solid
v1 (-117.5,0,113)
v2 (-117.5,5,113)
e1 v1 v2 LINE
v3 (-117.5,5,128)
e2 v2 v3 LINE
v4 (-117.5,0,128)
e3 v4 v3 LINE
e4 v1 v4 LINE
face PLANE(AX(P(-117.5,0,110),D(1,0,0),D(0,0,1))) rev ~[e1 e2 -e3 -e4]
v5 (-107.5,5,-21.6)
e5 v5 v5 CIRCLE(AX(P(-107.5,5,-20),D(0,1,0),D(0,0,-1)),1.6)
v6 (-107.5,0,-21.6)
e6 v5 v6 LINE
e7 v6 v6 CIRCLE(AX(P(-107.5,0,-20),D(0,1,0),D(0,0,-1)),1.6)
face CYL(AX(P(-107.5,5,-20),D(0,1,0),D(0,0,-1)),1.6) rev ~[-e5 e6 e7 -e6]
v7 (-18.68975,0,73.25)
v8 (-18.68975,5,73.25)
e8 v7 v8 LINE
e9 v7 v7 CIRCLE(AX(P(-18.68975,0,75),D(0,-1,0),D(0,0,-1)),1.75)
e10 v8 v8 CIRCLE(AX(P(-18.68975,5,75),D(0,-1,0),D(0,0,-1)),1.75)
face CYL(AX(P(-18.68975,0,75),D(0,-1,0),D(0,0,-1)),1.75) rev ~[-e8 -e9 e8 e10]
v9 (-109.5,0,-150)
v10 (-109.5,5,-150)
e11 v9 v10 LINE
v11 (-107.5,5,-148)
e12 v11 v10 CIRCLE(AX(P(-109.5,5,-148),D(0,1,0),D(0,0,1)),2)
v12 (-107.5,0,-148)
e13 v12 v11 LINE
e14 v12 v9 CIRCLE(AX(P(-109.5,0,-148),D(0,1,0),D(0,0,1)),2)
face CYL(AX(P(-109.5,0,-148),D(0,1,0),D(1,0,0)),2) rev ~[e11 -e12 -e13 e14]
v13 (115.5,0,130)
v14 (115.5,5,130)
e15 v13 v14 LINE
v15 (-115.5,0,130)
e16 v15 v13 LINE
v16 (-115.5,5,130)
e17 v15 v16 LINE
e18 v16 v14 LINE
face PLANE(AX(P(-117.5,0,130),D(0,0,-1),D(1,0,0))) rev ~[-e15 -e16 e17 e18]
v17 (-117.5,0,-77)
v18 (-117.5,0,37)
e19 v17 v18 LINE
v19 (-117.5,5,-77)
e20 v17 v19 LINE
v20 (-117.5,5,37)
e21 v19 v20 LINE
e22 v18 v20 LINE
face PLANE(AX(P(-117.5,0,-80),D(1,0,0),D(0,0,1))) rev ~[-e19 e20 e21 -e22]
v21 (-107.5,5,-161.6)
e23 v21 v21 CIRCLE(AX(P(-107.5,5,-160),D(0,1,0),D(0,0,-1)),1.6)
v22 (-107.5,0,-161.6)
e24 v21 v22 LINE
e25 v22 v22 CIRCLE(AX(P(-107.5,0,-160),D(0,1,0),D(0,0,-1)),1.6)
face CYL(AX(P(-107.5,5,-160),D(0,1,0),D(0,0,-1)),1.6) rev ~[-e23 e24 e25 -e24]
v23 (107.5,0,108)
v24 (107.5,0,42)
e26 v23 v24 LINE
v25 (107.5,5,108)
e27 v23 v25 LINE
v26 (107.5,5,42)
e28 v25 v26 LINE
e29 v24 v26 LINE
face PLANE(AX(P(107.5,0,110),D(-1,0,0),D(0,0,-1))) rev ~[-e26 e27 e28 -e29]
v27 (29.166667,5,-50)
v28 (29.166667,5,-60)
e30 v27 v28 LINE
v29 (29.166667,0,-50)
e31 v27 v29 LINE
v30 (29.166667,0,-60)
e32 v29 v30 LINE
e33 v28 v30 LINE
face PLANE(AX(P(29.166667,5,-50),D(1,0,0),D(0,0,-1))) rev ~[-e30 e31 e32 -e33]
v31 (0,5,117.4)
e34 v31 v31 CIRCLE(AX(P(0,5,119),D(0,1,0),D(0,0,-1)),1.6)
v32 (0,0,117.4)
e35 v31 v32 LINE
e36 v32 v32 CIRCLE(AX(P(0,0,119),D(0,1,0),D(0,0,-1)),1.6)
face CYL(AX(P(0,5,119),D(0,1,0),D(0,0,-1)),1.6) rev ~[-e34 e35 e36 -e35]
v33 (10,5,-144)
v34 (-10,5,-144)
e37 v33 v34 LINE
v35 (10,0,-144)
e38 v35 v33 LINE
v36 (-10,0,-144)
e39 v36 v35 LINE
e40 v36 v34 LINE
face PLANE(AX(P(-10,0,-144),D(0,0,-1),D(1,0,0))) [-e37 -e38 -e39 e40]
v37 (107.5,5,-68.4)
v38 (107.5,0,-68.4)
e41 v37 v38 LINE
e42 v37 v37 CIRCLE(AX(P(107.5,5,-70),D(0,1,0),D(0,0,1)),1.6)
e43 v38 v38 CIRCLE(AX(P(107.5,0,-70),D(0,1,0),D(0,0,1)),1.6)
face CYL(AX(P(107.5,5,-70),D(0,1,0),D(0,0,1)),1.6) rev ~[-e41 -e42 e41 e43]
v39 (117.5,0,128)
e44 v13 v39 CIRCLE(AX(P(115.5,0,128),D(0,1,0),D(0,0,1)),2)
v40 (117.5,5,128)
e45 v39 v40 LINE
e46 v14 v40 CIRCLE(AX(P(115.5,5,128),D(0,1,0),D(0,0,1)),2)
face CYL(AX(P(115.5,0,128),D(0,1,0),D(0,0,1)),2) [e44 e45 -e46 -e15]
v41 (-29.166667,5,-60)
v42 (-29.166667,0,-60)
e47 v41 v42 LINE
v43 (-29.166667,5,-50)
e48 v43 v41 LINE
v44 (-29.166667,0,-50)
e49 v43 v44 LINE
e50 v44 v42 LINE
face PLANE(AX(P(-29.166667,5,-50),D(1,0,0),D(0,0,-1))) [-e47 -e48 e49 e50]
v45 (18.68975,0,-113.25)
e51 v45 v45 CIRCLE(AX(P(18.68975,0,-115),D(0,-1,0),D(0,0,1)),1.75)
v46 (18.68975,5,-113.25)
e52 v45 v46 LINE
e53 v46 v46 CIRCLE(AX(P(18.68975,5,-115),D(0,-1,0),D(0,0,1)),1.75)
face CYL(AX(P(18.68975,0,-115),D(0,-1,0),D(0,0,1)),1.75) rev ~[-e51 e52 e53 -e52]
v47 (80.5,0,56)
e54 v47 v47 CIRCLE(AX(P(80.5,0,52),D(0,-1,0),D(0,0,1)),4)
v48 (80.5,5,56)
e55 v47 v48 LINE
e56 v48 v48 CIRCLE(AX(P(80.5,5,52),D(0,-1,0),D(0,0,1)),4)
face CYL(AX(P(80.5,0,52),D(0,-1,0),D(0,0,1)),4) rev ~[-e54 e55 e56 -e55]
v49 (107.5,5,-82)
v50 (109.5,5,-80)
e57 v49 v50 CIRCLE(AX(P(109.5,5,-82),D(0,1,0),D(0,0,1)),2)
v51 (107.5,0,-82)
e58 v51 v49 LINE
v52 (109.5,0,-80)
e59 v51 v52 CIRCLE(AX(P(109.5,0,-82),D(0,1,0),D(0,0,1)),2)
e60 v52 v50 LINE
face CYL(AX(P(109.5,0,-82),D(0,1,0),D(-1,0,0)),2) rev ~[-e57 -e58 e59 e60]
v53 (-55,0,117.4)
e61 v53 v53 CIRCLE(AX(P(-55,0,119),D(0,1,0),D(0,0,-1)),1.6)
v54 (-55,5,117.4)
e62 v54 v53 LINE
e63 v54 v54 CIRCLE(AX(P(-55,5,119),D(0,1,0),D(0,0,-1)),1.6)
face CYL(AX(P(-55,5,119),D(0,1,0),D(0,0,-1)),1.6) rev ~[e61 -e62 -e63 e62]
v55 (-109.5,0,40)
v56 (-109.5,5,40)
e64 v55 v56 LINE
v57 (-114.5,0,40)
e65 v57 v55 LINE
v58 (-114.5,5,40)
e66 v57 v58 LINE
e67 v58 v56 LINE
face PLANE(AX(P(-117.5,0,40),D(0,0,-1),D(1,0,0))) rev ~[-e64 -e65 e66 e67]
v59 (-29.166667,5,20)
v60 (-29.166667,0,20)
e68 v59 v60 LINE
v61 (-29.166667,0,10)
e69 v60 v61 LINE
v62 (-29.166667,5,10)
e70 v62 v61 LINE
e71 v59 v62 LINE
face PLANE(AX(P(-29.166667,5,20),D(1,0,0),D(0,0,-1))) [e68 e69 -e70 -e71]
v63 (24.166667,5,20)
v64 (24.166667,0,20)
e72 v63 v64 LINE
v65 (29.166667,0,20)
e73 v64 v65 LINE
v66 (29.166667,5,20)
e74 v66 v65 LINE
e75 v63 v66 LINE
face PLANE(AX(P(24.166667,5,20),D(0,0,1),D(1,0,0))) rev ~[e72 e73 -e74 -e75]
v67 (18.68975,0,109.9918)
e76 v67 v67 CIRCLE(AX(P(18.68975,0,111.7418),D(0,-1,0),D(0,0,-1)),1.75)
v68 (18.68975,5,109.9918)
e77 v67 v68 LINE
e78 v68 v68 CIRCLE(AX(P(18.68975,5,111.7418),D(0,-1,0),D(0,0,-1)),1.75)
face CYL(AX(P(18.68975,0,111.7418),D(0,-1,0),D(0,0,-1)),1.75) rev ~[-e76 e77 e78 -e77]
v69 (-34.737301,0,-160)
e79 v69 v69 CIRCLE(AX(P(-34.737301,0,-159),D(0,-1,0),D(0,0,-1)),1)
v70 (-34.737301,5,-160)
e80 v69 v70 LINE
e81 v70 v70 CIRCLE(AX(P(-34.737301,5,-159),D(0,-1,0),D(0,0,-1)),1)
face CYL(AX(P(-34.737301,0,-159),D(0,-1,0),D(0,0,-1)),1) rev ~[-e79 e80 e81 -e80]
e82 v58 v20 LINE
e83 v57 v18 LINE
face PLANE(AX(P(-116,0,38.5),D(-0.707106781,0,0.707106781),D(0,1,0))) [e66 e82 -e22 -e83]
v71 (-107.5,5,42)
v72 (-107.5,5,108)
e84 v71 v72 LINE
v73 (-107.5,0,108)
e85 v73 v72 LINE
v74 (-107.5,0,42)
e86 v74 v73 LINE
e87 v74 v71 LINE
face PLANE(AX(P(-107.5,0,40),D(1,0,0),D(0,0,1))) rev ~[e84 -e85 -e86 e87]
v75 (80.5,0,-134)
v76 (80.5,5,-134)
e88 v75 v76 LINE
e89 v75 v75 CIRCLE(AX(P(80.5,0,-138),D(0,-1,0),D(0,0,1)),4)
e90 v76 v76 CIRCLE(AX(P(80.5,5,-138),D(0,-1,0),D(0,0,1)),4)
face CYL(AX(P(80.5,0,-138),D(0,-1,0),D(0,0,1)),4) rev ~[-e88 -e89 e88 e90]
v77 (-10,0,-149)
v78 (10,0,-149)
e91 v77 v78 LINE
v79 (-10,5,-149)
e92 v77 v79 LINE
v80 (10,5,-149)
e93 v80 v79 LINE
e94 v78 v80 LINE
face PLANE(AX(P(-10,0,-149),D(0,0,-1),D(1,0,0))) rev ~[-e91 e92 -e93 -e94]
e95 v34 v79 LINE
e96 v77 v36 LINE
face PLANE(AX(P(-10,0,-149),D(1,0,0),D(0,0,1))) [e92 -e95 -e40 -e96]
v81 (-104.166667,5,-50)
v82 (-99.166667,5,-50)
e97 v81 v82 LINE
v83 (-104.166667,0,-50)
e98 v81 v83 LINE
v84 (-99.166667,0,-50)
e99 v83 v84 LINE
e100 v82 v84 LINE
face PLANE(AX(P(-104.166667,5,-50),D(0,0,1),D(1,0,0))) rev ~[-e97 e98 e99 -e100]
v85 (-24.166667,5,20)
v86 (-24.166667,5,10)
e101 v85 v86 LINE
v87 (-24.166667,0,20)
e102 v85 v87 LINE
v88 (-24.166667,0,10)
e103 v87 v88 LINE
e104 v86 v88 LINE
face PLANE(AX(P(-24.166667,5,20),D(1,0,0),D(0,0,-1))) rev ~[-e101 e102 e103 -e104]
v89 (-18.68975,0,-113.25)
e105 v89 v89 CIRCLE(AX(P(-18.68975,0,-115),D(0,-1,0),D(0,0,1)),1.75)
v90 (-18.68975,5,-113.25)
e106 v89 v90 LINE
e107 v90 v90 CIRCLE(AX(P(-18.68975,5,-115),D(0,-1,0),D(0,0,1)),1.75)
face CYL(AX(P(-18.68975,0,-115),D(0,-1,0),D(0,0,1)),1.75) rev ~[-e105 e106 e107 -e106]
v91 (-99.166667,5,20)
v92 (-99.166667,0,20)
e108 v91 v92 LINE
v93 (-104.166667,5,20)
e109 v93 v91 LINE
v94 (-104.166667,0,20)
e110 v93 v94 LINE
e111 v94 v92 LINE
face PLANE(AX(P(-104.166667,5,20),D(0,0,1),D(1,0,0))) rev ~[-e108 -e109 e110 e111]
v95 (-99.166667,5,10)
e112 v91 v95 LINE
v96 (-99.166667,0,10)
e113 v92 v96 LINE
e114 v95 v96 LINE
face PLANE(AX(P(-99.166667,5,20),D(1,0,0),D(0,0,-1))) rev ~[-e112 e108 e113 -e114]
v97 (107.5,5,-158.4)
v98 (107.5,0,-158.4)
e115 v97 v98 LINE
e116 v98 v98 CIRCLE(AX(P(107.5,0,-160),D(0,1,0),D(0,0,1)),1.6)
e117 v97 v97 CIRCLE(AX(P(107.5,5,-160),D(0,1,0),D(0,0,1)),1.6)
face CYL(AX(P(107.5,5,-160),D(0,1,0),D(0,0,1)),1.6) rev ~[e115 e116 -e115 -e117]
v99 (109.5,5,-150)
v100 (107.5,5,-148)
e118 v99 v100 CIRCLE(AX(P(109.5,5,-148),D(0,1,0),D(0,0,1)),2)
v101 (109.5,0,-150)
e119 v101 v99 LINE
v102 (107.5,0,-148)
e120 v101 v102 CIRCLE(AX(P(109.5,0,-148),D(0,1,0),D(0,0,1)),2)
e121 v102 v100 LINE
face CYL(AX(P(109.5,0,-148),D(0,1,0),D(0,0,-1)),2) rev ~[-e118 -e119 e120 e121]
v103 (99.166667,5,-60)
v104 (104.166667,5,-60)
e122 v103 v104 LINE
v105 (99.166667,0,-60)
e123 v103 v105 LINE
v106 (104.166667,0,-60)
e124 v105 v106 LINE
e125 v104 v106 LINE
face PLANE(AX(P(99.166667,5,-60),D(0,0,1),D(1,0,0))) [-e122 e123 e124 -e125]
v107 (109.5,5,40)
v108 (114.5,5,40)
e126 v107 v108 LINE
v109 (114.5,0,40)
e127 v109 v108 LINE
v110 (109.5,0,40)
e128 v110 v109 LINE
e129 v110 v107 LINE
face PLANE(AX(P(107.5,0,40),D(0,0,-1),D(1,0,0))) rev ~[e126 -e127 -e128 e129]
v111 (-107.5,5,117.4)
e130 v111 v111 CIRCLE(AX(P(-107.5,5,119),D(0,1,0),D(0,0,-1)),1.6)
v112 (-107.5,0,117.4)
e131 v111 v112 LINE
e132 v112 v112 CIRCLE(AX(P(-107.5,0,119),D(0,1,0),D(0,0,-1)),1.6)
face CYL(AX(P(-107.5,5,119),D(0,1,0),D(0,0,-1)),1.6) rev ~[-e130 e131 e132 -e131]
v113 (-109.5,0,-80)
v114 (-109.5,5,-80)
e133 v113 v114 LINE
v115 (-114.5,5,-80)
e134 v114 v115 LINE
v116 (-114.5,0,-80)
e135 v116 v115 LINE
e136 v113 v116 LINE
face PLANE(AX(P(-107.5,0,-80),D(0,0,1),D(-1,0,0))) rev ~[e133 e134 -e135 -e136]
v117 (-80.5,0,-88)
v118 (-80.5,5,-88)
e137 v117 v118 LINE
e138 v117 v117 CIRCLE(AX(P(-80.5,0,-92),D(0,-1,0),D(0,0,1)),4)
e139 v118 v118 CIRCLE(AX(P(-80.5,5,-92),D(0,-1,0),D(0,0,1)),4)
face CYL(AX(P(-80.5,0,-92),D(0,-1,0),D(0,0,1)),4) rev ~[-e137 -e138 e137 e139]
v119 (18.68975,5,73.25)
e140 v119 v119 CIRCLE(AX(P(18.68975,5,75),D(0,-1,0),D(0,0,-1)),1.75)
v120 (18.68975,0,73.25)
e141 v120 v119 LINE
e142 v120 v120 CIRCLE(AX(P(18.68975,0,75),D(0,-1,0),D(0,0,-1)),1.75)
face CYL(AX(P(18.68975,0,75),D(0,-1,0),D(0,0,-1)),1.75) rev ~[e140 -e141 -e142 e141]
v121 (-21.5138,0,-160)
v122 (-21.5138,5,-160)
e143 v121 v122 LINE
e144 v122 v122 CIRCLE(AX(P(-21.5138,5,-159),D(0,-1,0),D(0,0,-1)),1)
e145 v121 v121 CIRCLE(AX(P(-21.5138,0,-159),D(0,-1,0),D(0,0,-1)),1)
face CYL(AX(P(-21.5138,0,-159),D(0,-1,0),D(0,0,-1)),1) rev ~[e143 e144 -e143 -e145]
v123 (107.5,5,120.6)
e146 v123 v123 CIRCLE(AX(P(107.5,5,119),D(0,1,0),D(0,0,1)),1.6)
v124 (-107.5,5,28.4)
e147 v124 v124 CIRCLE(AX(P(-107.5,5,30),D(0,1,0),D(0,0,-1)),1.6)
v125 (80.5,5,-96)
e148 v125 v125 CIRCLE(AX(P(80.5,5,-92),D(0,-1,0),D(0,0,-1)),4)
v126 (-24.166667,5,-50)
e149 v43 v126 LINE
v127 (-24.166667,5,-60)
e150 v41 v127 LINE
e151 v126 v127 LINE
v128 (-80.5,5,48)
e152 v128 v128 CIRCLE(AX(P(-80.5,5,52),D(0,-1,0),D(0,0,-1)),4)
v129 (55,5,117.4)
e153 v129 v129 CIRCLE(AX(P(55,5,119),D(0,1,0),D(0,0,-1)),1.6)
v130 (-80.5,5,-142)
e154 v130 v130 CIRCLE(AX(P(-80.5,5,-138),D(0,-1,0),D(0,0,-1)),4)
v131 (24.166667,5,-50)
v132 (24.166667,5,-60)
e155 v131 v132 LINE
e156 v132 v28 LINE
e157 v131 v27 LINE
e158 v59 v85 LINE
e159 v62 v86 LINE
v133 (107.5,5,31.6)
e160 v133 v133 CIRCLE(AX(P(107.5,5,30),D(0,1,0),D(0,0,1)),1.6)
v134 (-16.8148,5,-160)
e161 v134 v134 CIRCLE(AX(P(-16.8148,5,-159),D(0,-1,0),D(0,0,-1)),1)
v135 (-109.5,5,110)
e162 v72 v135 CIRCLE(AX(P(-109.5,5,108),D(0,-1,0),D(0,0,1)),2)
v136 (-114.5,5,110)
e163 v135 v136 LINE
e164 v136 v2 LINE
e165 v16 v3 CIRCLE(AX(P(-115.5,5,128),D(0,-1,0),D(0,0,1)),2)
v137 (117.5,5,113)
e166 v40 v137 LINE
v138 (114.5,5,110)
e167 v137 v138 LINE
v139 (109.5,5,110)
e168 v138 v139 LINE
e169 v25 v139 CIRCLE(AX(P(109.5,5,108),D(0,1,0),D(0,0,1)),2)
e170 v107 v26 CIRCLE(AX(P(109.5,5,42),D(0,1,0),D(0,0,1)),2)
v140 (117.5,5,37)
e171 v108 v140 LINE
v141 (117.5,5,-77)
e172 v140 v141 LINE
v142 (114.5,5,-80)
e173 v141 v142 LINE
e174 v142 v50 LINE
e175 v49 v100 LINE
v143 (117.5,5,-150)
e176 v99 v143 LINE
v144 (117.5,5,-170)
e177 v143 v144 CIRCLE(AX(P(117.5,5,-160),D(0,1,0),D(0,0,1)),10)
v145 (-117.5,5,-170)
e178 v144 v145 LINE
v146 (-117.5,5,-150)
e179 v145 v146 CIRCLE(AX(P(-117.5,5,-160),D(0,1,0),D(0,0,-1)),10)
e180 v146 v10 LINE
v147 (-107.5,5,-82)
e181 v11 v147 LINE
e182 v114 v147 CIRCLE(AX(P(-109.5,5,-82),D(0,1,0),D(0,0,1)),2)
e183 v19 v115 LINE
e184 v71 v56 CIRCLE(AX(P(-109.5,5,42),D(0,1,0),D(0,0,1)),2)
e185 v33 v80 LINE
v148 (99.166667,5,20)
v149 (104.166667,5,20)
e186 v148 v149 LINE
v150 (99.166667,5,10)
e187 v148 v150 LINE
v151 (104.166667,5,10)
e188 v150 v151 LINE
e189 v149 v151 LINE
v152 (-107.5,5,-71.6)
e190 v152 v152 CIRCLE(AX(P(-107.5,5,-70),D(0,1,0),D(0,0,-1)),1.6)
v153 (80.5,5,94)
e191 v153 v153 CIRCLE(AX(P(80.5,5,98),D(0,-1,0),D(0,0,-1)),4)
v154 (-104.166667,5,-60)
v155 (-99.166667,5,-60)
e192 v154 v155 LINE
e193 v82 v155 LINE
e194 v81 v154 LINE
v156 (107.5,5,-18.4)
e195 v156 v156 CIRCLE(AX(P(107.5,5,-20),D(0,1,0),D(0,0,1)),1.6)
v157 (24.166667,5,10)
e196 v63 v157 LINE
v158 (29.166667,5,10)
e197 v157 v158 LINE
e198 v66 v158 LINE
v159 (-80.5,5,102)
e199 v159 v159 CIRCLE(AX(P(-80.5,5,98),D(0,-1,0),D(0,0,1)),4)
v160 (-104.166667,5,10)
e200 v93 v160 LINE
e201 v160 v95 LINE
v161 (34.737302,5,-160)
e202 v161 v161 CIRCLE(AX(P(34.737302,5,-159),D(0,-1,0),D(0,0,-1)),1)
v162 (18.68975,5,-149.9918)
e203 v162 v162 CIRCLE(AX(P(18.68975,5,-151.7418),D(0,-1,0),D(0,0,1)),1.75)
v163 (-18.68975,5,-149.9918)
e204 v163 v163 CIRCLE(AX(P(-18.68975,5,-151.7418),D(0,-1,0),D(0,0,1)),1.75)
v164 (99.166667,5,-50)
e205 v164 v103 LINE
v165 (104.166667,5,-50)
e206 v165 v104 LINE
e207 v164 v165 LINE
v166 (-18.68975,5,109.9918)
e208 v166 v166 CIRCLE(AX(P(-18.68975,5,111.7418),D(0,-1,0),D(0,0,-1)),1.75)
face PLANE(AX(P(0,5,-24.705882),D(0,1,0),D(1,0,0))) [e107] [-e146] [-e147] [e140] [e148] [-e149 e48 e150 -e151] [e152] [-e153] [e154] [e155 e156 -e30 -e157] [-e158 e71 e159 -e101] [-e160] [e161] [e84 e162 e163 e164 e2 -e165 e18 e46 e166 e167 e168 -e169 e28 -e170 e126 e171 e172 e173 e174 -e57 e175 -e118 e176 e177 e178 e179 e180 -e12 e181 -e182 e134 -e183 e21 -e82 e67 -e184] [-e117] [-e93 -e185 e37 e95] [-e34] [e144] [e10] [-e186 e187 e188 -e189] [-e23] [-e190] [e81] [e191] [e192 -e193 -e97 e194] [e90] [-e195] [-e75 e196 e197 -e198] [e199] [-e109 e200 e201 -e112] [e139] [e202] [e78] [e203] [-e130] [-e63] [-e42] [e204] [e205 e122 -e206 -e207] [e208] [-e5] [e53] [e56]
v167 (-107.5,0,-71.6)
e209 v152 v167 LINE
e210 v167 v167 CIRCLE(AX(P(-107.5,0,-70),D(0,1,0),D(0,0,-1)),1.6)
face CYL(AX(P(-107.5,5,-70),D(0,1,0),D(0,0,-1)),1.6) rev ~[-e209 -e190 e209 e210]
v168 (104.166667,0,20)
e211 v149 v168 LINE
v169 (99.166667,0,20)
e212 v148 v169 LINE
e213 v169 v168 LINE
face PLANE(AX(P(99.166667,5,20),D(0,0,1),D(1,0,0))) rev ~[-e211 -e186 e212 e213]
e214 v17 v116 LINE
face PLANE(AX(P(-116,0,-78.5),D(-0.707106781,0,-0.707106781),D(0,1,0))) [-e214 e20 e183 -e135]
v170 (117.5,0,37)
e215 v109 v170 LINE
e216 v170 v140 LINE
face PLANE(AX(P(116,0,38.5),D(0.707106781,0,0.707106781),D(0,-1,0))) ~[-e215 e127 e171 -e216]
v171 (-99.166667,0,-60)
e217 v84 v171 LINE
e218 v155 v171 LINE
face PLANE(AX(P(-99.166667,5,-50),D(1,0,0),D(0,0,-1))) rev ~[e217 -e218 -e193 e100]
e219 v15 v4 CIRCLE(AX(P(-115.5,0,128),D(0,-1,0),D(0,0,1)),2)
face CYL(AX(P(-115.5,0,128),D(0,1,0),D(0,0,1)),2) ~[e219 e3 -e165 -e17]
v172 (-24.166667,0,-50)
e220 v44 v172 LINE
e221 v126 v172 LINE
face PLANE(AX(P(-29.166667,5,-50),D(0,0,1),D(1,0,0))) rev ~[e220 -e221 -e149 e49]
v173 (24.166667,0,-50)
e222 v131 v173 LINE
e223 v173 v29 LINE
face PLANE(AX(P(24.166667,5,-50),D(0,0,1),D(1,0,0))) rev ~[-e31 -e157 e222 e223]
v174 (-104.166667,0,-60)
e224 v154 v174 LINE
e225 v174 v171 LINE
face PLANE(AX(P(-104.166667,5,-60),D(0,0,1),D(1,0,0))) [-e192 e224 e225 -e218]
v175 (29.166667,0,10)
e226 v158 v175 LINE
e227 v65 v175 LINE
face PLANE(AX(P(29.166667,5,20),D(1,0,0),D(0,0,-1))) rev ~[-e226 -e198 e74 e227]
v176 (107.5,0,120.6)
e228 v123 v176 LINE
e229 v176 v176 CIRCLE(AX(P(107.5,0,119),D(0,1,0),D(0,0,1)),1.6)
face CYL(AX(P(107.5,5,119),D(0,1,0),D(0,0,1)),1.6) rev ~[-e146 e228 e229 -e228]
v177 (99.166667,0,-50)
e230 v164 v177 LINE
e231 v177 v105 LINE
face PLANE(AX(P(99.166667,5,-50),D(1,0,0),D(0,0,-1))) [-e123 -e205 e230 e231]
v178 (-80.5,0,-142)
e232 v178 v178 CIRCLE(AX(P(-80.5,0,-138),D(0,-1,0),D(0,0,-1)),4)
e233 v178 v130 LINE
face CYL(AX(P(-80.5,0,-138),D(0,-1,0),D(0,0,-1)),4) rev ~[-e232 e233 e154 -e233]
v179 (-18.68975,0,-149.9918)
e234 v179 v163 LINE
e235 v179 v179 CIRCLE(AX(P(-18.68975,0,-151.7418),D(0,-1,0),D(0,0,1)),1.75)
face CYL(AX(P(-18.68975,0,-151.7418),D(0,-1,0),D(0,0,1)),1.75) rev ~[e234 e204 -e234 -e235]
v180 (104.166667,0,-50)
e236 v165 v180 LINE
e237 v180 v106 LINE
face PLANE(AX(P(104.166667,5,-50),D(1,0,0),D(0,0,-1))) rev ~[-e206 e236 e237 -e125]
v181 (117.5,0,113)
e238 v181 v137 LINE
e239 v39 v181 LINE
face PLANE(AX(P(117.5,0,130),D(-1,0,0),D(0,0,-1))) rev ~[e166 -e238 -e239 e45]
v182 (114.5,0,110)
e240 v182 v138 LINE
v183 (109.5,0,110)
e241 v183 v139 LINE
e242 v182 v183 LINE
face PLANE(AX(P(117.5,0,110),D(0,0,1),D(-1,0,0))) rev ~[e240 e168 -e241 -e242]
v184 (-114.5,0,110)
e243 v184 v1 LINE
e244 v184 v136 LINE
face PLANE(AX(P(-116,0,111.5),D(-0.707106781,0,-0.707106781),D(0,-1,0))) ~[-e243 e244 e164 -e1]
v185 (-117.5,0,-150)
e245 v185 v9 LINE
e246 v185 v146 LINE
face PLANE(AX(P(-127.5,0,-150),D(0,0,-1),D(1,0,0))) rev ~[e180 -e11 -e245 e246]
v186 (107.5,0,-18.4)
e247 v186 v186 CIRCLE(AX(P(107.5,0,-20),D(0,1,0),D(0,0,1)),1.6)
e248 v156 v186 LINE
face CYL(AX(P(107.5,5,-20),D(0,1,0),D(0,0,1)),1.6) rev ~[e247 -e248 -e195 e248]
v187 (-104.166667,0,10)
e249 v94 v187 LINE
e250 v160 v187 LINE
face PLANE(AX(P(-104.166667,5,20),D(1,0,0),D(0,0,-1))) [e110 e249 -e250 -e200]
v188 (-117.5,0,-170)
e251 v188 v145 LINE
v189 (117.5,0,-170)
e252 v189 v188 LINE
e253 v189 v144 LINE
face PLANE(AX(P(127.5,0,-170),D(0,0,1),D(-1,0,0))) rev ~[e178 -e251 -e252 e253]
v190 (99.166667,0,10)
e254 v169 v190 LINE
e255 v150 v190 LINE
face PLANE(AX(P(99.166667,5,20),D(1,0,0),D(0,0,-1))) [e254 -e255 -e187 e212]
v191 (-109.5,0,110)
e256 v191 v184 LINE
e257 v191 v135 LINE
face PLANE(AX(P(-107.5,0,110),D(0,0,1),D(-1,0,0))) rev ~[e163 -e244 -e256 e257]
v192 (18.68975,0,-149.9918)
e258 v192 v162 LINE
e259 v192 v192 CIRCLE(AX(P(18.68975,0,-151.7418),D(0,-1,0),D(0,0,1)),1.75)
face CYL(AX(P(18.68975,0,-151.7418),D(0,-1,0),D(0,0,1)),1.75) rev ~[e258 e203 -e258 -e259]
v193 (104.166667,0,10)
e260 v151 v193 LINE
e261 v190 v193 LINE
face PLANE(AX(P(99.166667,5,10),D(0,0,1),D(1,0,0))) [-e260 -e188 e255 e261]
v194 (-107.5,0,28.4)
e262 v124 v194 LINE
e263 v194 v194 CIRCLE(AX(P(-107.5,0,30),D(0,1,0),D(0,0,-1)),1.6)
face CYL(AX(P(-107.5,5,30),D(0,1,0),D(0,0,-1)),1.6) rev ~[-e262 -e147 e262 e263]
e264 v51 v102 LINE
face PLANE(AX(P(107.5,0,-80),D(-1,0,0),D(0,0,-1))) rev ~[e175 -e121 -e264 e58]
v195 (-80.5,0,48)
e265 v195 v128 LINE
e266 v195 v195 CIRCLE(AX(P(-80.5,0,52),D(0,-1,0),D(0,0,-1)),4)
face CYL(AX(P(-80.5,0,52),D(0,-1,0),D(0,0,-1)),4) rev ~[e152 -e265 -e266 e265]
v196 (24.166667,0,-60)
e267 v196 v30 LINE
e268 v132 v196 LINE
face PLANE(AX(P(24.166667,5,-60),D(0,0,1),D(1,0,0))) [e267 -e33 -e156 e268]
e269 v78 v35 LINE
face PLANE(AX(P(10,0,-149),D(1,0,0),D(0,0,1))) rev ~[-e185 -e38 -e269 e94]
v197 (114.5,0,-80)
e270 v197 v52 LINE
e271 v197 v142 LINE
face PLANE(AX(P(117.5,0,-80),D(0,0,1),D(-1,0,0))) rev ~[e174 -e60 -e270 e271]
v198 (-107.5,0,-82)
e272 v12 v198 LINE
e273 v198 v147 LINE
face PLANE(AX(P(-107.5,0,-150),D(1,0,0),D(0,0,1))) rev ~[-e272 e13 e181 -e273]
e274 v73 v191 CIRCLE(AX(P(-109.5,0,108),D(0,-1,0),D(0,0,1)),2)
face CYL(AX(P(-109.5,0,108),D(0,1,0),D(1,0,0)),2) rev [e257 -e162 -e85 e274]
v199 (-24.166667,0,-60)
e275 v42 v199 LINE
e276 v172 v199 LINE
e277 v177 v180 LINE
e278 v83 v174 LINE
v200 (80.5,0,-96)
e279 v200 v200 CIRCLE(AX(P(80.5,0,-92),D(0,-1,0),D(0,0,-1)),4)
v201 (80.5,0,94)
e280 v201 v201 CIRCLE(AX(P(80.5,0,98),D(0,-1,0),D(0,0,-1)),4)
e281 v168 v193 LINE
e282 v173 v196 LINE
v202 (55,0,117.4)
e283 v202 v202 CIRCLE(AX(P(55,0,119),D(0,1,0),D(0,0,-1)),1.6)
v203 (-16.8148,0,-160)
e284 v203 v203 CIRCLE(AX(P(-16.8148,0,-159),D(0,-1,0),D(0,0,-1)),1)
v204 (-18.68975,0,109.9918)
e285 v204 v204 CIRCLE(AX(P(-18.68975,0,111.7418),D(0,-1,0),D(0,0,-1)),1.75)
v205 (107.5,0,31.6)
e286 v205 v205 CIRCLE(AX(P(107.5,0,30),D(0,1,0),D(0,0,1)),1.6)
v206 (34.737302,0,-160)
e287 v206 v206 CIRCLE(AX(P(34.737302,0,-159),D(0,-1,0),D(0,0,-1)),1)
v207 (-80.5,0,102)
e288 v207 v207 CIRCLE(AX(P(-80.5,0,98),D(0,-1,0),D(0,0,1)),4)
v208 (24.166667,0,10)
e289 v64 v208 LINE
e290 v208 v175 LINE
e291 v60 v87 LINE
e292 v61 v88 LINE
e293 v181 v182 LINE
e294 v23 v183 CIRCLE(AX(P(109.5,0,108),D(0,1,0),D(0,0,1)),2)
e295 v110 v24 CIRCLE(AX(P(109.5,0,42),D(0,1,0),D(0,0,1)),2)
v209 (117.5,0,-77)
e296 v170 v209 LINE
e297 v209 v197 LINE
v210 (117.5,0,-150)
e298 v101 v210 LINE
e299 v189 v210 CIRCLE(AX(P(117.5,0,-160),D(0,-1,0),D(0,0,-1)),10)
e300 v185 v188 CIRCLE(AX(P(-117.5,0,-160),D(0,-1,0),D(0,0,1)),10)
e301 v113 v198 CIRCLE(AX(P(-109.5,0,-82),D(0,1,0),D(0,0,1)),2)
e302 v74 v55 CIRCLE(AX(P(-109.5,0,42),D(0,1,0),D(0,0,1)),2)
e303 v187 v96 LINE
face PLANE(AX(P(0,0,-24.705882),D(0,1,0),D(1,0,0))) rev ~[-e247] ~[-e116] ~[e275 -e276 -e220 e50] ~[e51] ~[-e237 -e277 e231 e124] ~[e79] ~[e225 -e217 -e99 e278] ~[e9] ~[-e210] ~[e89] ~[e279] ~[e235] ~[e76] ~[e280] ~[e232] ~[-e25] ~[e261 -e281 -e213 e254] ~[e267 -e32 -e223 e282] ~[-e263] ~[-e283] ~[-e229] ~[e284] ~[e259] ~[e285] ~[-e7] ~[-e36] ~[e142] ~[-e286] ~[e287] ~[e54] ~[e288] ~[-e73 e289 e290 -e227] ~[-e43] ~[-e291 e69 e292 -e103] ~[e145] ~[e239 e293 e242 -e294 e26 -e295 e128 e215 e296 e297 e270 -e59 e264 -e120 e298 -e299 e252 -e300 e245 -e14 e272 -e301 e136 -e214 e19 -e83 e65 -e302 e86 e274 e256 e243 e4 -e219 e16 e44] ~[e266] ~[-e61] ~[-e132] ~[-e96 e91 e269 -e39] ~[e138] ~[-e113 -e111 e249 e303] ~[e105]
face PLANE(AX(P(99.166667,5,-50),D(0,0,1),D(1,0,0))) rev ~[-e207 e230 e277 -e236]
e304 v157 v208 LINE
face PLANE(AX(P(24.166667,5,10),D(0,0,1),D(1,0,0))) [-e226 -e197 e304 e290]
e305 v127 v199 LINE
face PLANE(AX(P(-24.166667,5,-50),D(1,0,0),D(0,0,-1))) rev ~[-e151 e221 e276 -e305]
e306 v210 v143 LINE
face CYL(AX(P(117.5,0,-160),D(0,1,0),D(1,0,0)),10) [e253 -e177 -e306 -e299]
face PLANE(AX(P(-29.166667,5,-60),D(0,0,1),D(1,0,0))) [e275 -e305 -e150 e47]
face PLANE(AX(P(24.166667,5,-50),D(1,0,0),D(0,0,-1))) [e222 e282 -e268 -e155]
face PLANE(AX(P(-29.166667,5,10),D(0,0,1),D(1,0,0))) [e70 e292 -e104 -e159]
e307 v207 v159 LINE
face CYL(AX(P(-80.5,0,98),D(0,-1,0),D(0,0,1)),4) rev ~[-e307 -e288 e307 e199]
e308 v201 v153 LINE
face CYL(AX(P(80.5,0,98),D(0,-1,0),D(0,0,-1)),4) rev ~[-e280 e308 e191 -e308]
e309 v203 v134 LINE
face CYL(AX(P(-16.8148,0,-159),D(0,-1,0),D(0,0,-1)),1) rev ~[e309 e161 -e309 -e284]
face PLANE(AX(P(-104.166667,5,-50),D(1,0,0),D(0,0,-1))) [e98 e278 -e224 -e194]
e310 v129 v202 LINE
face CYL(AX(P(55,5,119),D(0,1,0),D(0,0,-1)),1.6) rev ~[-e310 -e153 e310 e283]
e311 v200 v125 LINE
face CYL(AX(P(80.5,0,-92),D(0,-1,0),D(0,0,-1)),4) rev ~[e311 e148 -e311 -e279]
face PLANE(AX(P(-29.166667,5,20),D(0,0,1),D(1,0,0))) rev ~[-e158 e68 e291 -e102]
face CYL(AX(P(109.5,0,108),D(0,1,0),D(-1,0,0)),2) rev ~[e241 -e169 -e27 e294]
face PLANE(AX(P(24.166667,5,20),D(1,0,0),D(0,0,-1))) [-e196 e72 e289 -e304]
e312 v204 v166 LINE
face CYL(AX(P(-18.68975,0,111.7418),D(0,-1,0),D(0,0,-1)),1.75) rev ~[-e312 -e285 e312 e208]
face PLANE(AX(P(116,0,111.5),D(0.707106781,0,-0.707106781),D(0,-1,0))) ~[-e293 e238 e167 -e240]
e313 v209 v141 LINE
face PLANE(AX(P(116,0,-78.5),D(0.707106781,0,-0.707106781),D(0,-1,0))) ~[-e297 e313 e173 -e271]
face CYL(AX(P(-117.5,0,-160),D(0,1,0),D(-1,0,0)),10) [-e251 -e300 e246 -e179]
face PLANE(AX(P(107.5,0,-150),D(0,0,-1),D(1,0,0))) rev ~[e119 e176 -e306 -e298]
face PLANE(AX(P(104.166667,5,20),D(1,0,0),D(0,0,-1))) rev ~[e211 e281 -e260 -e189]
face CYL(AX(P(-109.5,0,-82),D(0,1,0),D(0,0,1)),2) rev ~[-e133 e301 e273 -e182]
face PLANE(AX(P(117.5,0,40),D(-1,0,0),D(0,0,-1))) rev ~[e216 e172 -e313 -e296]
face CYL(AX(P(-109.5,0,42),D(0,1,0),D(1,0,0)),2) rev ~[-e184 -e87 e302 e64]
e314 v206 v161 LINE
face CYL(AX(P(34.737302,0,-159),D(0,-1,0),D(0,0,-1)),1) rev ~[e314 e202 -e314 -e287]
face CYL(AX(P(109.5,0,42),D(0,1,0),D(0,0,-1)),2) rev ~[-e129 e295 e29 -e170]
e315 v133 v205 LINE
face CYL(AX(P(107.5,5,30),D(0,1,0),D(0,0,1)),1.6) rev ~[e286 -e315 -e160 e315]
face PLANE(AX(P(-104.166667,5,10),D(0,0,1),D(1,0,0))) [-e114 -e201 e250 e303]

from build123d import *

# Parameters (mm, degrees)
BOSS_EXTRUDE1_DEPTH         = 5
FILLET3_RADIUS              = 10
FILLET3_LENGTH              = 5
FILLET4_RADIUS              = 10
FILLET4_LENGTH              = 5
FILLET2_R                   = 2
SKETCH2_R                   = 1.6
LAYER_FIX_HOLE_DEPTH        = 213.55881539
CHAMFER1_SIZE               = 3
MOTOR_FIX_HOLE_REACH        = 214.559
SKETCH9_R                   = 4
MOTOR_DRIVER_FIX_HOLE_REACH = 214.559
SKETCH10_R                  = 1.75
SKETCH11_R                  = 1
SKETCH11_W                  = 20
SKETCH11_H                  = 5
QTR8A_FIX_HOLE_DEPTH        = 10
SKETCH_12_W                 = 5
SKETCH_12_H                 = 10
BATTERY_FIXED_HOLE_DEPTH    = 213.55881539


with BuildPart() as part:
    # Sketch1 → Boss-Extrude1 (new body)
    with BuildSketch(Plane(origin=(0, 0, 0), x_dir=(1, 0, 0), z_dir=(0, 1, 0))):
        Polygon((-117.5, -130), (117.5, -130), (117.5, -110), (107.5, -110), (107.5, -40), (117.5, -40), (117.5, 80), (107.5, 80), (107.5, 150), (127.5, 150), (127.5, 170), (-127.5, 170), (-127.5, 150), (-107.5, 150), (-107.5, 80), (-117.5, 80), (-117.5, -40), (-107.5, -40), (-107.5, -110), (-117.5, -110), align=None)
    extrude(amount=BOSS_EXTRUDE1_DEPTH)

    # Fillet3: full round fillet: the end face becomes a half cylinder, R = half its width
    fillet3_face = Plane((127.5, 2.5, -160), x_dir=(0, 1, 0), z_dir=(1, 0, 0))  # on the end face: x along it, z out of the body
    fillet3_slab = fillet3_face.offset(-FILLET3_RADIUS / 2) * Box(FILLET3_LENGTH, 2 * FILLET3_RADIUS, FILLET3_RADIUS, mode=Mode.PRIVATE)  # the body's end, R deep
    fillet3_round = Plane((117.5, 2.5, -160), x_dir=(1, 0, 0), z_dir=(0, 1, 0)) * Cylinder(FILLET3_RADIUS, FILLET3_LENGTH, mode=Mode.PRIVATE)  # its axis R under the face
    add(fillet3_slab - fillet3_round, mode=Mode.SUBTRACT)

    # Fillet4: full round fillet: the end face becomes a half cylinder, R = half its width
    fillet4_face = Plane((-127.5, 2.5, -160), x_dir=(0, 1, 0), z_dir=(-1, 0, 0))  # on the end face: x along it, z out of the body
    fillet4_slab = fillet4_face.offset(-FILLET4_RADIUS / 2) * Box(FILLET4_LENGTH, 2 * FILLET4_RADIUS, FILLET4_RADIUS, mode=Mode.PRIVATE)  # the body's end, R deep
    fillet4_round = Plane((-117.5, 2.5, -160), x_dir=(-1, 0, 0), z_dir=(0, 1, 0)) * Cylinder(FILLET4_RADIUS, FILLET4_LENGTH, mode=Mode.PRIVATE)  # its axis R under the face
    add(fillet4_slab - fillet4_round, mode=Mode.SUBTRACT)

    # Fillet2
    fillet2_edges = [part.edges().sort_by_distance(p)[0] for p in [
        (117.5, 2.5, 130),
        (-117.5, 2.5, 130),
        (-107.5, 2.5, 110),
        (-107.5, 2.5, 40),
        (-107.5, 2.5, -80),
        (-107.5, 2.5, -150),
        (107.5, 2.5, -150),
        (107.5, 2.5, -80),
        (107.5, 2.5, 40),
        (107.5, 2.5, 110),
    ]]
    fillet(fillet2_edges, radius=FILLET2_R)

    # Sketch2 → layer fix hole (cut, through all)
    with BuildSketch(Plane(origin=(0, 5, 0), x_dir=(1, 0, 0), z_dir=(0, 1, 0))):
        with Locations(Location((107.5, 160, 0), (0, 0, 270))):
            Circle(SKETCH2_R)
        with Locations(Location((107.5, 20, 0), (0, 0, 270))):
            Circle(SKETCH2_R)
        with Locations(Location((107.5, -119, 0), (0, 0, 270))):
            Circle(SKETCH2_R)
        with Locations(Location((0, -119, 0), (0, 0, 90))):
            Circle(SKETCH2_R)
        with Locations(Location((-107.5, -119, 0), (0, 0, 90))):
            Circle(SKETCH2_R)
        with Locations(Location((-107.5, 20, 0), (0, 0, 90))):
            Circle(SKETCH2_R)
        with Locations(Location((-107.5, 160, 0), (0, 0, 90))):
            Circle(SKETCH2_R)
        with Locations(Location((55, -119, 0), (0, 0, 90))):
            Circle(SKETCH2_R)
        with Locations(Location((-55, -119, 0), (0, 0, 90))):
            Circle(SKETCH2_R)
        with Locations(Location((-107.5, 70, 0), (0, 0, 90))):
            Circle(SKETCH2_R)
        with Locations(Location((107.5, 70, 0), (0, 0, 270))):
            Circle(SKETCH2_R)
        with Locations(Location((-107.5, -30, 0), (0, 0, 90))):
            Circle(SKETCH2_R)
        with Locations(Location((107.5, -30, 0), (0, 0, 270))):
            Circle(SKETCH2_R)
    extrude(amount=-LAYER_FIX_HOLE_DEPTH, mode=Mode.SUBTRACT)

    # Chamfer1
    chamfer1_edges = [part.edges().sort_by_distance(p)[0] for p in [
        (-117.5, 2.5, 110),
        (-117.5, 2.5, 40),
        (-117.5, 2.5, -80),
        (117.5, 2.5, -80),
        (117.5, 2.5, 40),
        (117.5, 2.5, 110),
    ]]
    chamfer(chamfer1_edges, length=CHAMFER1_SIZE)

    # Sketch9 → Motor fix hole (cut, up to next)
    with BuildSketch(Plane.XZ, mode=Mode.PRIVATE) as motor_fix_hole_sk1:
        with Locations(Location((-80.5, -138, 0), (0, 0, 270))):
            Circle(SKETCH9_R)
    motor_fix_hole_tool1 = extrude(motor_fix_hole_sk1.sketch, amount=-MOTOR_FIX_HOLE_REACH, mode=Mode.PRIVATE) & part.part
    # Sketch9 → Motor fix hole (cut, up to next)
    with BuildSketch(Plane.XZ, mode=Mode.PRIVATE) as motor_fix_hole_sk2:
        with Locations(Location((-80.5, -92, 0), (0, 0, 90))):
            Circle(SKETCH9_R)
    motor_fix_hole_tool2 = extrude(motor_fix_hole_sk2.sketch, amount=-MOTOR_FIX_HOLE_REACH, mode=Mode.PRIVATE) & part.part
    # Sketch9 → Motor fix hole (cut, up to next)
    with BuildSketch(Plane.XZ, mode=Mode.PRIVATE) as motor_fix_hole_sk3:
        with Locations(Location((80.5, -92, 0), (0, 0, 270))):
            Circle(SKETCH9_R)
    motor_fix_hole_tool3 = extrude(motor_fix_hole_sk3.sketch, amount=-MOTOR_FIX_HOLE_REACH, mode=Mode.PRIVATE) & part.part
    # Sketch9 → Motor fix hole (cut, up to next)
    with BuildSketch(Plane.XZ, mode=Mode.PRIVATE) as motor_fix_hole_sk4:
        with Locations(Location((80.5, -138, 0), (0, 0, 90))):
            Circle(SKETCH9_R)
    motor_fix_hole_tool4 = extrude(motor_fix_hole_sk4.sketch, amount=-MOTOR_FIX_HOLE_REACH, mode=Mode.PRIVATE) & part.part
    # Sketch9 → Motor fix hole (cut, up to next)
    with BuildSketch(Plane.XZ, mode=Mode.PRIVATE) as motor_fix_hole_sk5:
        with Locations(Location((80.5, 98, 0), (0, 0, 270))):
            Circle(SKETCH9_R)
    motor_fix_hole_tool5 = extrude(motor_fix_hole_sk5.sketch, amount=-MOTOR_FIX_HOLE_REACH, mode=Mode.PRIVATE) & part.part
    # Sketch9 → Motor fix hole (cut, up to next)
    with BuildSketch(Plane.XZ, mode=Mode.PRIVATE) as motor_fix_hole_sk6:
        with Locations(Location((80.5, 52, 0), (0, 0, 90))):
            Circle(SKETCH9_R)
    motor_fix_hole_tool6 = extrude(motor_fix_hole_sk6.sketch, amount=-MOTOR_FIX_HOLE_REACH, mode=Mode.PRIVATE) & part.part
    # Sketch9 → Motor fix hole (cut, up to next)
    with BuildSketch(Plane.XZ, mode=Mode.PRIVATE) as motor_fix_hole_sk7:
        with Locations(Location((-80.5, 98, 0), (0, 0, 90))):
            Circle(SKETCH9_R)
    motor_fix_hole_tool7 = extrude(motor_fix_hole_sk7.sketch, amount=-MOTOR_FIX_HOLE_REACH, mode=Mode.PRIVATE) & part.part
    # Sketch9 → Motor fix hole (cut, up to next)
    with BuildSketch(Plane.XZ, mode=Mode.PRIVATE) as motor_fix_hole_sk8:
        with Locations(Location((-80.5, 52, 0), (0, 0, 270))):
            Circle(SKETCH9_R)
    motor_fix_hole_tool8 = extrude(motor_fix_hole_sk8.sketch, amount=-MOTOR_FIX_HOLE_REACH, mode=Mode.PRIVATE) & part.part
    add(motor_fix_hole_tool1.solids().sort_by_distance((-80.5, 0, -138))[0], mode=Mode.SUBTRACT)
    add(motor_fix_hole_tool2.solids().sort_by_distance((-80.5, 0, -92))[0], mode=Mode.SUBTRACT)
    add(motor_fix_hole_tool3.solids().sort_by_distance((80.5, 0, -92))[0], mode=Mode.SUBTRACT)
    add(motor_fix_hole_tool4.solids().sort_by_distance((80.5, 0, -138))[0], mode=Mode.SUBTRACT)
    add(motor_fix_hole_tool5.solids().sort_by_distance((80.5, 0, 98))[0], mode=Mode.SUBTRACT)
    add(motor_fix_hole_tool6.solids().sort_by_distance((80.5, 0, 52))[0], mode=Mode.SUBTRACT)
    add(motor_fix_hole_tool7.solids().sort_by_distance((-80.5, 0, 98))[0], mode=Mode.SUBTRACT)
    add(motor_fix_hole_tool8.solids().sort_by_distance((-80.5, 0, 52))[0], mode=Mode.SUBTRACT)

    # Sketch10 → Motor driver fix hole (cut, up to next)
    with BuildSketch(Plane.XZ, mode=Mode.PRIVATE) as motor_driver_fix_hole_sk1:
        with Locations(Location((18.68975044, 75, 0), (0, 0, 270))):
            Circle(SKETCH10_R)
    motor_driver_fix_hole_tool1 = extrude(motor_driver_fix_hole_sk1.sketch, amount=-MOTOR_DRIVER_FIX_HOLE_REACH, mode=Mode.PRIVATE) & part.part
    # Sketch10 → Motor driver fix hole (cut, up to next)
    with BuildSketch(Plane.XZ, mode=Mode.PRIVATE) as motor_driver_fix_hole_sk2:
        with Locations(Location((-18.68975044, 75, 0), (0, 0, 270))):
            Circle(SKETCH10_R)
    motor_driver_fix_hole_tool2 = extrude(motor_driver_fix_hole_sk2.sketch, amount=-MOTOR_DRIVER_FIX_HOLE_REACH, mode=Mode.PRIVATE) & part.part
    # Sketch10 → Motor driver fix hole (cut, up to next)
    with BuildSketch(Plane.XZ, mode=Mode.PRIVATE) as motor_driver_fix_hole_sk3:
        with Locations(Location((-18.68975044, 111.74180032, 0), (0, 0, 270))):
            Circle(SKETCH10_R)
    motor_driver_fix_hole_tool3 = extrude(motor_driver_fix_hole_sk3.sketch, amount=-MOTOR_DRIVER_FIX_HOLE_REACH, mode=Mode.PRIVATE) & part.part
    # Sketch10 → Motor driver fix hole (cut, up to next)
    with BuildSketch(Plane.XZ, mode=Mode.PRIVATE) as motor_driver_fix_hole_sk4:
        with Locations(Location((18.68975044, 111.74180032, 0), (0, 0, 270))):
            Circle(SKETCH10_R)
    motor_driver_fix_hole_tool4 = extrude(motor_driver_fix_hole_sk4.sketch, amount=-MOTOR_DRIVER_FIX_HOLE_REACH, mode=Mode.PRIVATE) & part.part
    # Sketch10 → Motor driver fix hole (cut, up to next)
    with BuildSketch(Plane.XZ, mode=Mode.PRIVATE) as motor_driver_fix_hole_sk5:
        with Locations(Location((18.68975044, -151.74180032, 0), (0, 0, 90))):
            Circle(SKETCH10_R)
    motor_driver_fix_hole_tool5 = extrude(motor_driver_fix_hole_sk5.sketch, amount=-MOTOR_DRIVER_FIX_HOLE_REACH, mode=Mode.PRIVATE) & part.part
    # Sketch10 → Motor driver fix hole (cut, up to next)
    with BuildSketch(Plane.XZ, mode=Mode.PRIVATE) as motor_driver_fix_hole_sk6:
        with Locations(Location((-18.68975044, -151.74180032, 0), (0, 0, 90))):
            Circle(SKETCH10_R)
    motor_driver_fix_hole_tool6 = extrude(motor_driver_fix_hole_sk6.sketch, amount=-MOTOR_DRIVER_FIX_HOLE_REACH, mode=Mode.PRIVATE) & part.part
    # Sketch10 → Motor driver fix hole (cut, up to next)
    with BuildSketch(Plane.XZ, mode=Mode.PRIVATE) as motor_driver_fix_hole_sk7:
        with Locations(Location((-18.68975044, -115, 0), (0, 0, 90))):
            Circle(SKETCH10_R)
    motor_driver_fix_hole_tool7 = extrude(motor_driver_fix_hole_sk7.sketch, amount=-MOTOR_DRIVER_FIX_HOLE_REACH, mode=Mode.PRIVATE) & part.part
    # Sketch10 → Motor driver fix hole (cut, up to next)
    with BuildSketch(Plane.XZ, mode=Mode.PRIVATE) as motor_driver_fix_hole_sk8:
        with Locations(Location((18.68975044, -115, 0), (0, 0, 90))):
            Circle(SKETCH10_R)
    motor_driver_fix_hole_tool8 = extrude(motor_driver_fix_hole_sk8.sketch, amount=-MOTOR_DRIVER_FIX_HOLE_REACH, mode=Mode.PRIVATE) & part.part
    add(motor_driver_fix_hole_tool1.solids().sort_by_distance((18.68975, 0, 75))[0], mode=Mode.SUBTRACT)
    add(motor_driver_fix_hole_tool2.solids().sort_by_distance((-18.68975, 0, 75))[0], mode=Mode.SUBTRACT)
    add(motor_driver_fix_hole_tool3.solids().sort_by_distance((-18.68975, 0, 111.7418))[0], mode=Mode.SUBTRACT)
    add(motor_driver_fix_hole_tool4.solids().sort_by_distance((18.68975, 0, 111.7418))[0], mode=Mode.SUBTRACT)
    add(motor_driver_fix_hole_tool5.solids().sort_by_distance((18.68975, 0, -151.7418))[0], mode=Mode.SUBTRACT)
    add(motor_driver_fix_hole_tool6.solids().sort_by_distance((-18.68975, 0, -151.7418))[0], mode=Mode.SUBTRACT)
    add(motor_driver_fix_hole_tool7.solids().sort_by_distance((-18.68975, 0, -115))[0], mode=Mode.SUBTRACT)
    add(motor_driver_fix_hole_tool8.solids().sort_by_distance((18.68975, 0, -115))[0], mode=Mode.SUBTRACT)

    # Sketch11 → QTR8a fix hole (cut)
    with BuildSketch(Plane.XZ):
        with Locations(Location((-34.737301465, -159, 0), (0, 0, 270))):
            Circle(SKETCH11_R)
        with Locations(Location((-21.513799845, -159, 0), (0, 0, 270))):
            Circle(SKETCH11_R)
        with Locations(Location((-16.814799845, -159, 0), (0, 0, 270))):
            Circle(SKETCH11_R)
        with Locations(Location((34.737301775, -159, 0), (0, 0, 270))):
            Circle(SKETCH11_R)
        with Locations((0, -146.5)):
            Rectangle(SKETCH11_W, SKETCH11_H)
    extrude(amount=-QTR8A_FIX_HOLE_DEPTH, mode=Mode.SUBTRACT)

    # Sketch 12 → Battery fixed hole (cut, through all)
    with BuildSketch(Plane(origin=(0, 5, 0), x_dir=(1, 0, 0), z_dir=(0, 1, 0))):
        with Locations((26.666666667, 55)):
            Rectangle(SKETCH_12_W, SKETCH_12_H)
        with Locations((101.666666667, 55)):
            Rectangle(SKETCH_12_W, SKETCH_12_H)
        with Locations((26.666666667, -15)):
            Rectangle(SKETCH_12_W, SKETCH_12_H)
        with Locations((101.666666667, -15)):
            Rectangle(SKETCH_12_W, SKETCH_12_H)
        with Locations((-101.666666667, 55)):
            Rectangle(SKETCH_12_W, SKETCH_12_H)
        with Locations((-26.666666667, 55)):
            Rectangle(SKETCH_12_W, SKETCH_12_H)
        with Locations((-101.666666667, -15)):
            Rectangle(SKETCH_12_W, SKETCH_12_H)
        with Locations((-26.666666667, -15)):
            Rectangle(SKETCH_12_W, SKETCH_12_H)
    extrude(amount=-BATTERY_FIXED_HOLE_DEPTH, mode=Mode.SUBTRACT)


solid = part.part
